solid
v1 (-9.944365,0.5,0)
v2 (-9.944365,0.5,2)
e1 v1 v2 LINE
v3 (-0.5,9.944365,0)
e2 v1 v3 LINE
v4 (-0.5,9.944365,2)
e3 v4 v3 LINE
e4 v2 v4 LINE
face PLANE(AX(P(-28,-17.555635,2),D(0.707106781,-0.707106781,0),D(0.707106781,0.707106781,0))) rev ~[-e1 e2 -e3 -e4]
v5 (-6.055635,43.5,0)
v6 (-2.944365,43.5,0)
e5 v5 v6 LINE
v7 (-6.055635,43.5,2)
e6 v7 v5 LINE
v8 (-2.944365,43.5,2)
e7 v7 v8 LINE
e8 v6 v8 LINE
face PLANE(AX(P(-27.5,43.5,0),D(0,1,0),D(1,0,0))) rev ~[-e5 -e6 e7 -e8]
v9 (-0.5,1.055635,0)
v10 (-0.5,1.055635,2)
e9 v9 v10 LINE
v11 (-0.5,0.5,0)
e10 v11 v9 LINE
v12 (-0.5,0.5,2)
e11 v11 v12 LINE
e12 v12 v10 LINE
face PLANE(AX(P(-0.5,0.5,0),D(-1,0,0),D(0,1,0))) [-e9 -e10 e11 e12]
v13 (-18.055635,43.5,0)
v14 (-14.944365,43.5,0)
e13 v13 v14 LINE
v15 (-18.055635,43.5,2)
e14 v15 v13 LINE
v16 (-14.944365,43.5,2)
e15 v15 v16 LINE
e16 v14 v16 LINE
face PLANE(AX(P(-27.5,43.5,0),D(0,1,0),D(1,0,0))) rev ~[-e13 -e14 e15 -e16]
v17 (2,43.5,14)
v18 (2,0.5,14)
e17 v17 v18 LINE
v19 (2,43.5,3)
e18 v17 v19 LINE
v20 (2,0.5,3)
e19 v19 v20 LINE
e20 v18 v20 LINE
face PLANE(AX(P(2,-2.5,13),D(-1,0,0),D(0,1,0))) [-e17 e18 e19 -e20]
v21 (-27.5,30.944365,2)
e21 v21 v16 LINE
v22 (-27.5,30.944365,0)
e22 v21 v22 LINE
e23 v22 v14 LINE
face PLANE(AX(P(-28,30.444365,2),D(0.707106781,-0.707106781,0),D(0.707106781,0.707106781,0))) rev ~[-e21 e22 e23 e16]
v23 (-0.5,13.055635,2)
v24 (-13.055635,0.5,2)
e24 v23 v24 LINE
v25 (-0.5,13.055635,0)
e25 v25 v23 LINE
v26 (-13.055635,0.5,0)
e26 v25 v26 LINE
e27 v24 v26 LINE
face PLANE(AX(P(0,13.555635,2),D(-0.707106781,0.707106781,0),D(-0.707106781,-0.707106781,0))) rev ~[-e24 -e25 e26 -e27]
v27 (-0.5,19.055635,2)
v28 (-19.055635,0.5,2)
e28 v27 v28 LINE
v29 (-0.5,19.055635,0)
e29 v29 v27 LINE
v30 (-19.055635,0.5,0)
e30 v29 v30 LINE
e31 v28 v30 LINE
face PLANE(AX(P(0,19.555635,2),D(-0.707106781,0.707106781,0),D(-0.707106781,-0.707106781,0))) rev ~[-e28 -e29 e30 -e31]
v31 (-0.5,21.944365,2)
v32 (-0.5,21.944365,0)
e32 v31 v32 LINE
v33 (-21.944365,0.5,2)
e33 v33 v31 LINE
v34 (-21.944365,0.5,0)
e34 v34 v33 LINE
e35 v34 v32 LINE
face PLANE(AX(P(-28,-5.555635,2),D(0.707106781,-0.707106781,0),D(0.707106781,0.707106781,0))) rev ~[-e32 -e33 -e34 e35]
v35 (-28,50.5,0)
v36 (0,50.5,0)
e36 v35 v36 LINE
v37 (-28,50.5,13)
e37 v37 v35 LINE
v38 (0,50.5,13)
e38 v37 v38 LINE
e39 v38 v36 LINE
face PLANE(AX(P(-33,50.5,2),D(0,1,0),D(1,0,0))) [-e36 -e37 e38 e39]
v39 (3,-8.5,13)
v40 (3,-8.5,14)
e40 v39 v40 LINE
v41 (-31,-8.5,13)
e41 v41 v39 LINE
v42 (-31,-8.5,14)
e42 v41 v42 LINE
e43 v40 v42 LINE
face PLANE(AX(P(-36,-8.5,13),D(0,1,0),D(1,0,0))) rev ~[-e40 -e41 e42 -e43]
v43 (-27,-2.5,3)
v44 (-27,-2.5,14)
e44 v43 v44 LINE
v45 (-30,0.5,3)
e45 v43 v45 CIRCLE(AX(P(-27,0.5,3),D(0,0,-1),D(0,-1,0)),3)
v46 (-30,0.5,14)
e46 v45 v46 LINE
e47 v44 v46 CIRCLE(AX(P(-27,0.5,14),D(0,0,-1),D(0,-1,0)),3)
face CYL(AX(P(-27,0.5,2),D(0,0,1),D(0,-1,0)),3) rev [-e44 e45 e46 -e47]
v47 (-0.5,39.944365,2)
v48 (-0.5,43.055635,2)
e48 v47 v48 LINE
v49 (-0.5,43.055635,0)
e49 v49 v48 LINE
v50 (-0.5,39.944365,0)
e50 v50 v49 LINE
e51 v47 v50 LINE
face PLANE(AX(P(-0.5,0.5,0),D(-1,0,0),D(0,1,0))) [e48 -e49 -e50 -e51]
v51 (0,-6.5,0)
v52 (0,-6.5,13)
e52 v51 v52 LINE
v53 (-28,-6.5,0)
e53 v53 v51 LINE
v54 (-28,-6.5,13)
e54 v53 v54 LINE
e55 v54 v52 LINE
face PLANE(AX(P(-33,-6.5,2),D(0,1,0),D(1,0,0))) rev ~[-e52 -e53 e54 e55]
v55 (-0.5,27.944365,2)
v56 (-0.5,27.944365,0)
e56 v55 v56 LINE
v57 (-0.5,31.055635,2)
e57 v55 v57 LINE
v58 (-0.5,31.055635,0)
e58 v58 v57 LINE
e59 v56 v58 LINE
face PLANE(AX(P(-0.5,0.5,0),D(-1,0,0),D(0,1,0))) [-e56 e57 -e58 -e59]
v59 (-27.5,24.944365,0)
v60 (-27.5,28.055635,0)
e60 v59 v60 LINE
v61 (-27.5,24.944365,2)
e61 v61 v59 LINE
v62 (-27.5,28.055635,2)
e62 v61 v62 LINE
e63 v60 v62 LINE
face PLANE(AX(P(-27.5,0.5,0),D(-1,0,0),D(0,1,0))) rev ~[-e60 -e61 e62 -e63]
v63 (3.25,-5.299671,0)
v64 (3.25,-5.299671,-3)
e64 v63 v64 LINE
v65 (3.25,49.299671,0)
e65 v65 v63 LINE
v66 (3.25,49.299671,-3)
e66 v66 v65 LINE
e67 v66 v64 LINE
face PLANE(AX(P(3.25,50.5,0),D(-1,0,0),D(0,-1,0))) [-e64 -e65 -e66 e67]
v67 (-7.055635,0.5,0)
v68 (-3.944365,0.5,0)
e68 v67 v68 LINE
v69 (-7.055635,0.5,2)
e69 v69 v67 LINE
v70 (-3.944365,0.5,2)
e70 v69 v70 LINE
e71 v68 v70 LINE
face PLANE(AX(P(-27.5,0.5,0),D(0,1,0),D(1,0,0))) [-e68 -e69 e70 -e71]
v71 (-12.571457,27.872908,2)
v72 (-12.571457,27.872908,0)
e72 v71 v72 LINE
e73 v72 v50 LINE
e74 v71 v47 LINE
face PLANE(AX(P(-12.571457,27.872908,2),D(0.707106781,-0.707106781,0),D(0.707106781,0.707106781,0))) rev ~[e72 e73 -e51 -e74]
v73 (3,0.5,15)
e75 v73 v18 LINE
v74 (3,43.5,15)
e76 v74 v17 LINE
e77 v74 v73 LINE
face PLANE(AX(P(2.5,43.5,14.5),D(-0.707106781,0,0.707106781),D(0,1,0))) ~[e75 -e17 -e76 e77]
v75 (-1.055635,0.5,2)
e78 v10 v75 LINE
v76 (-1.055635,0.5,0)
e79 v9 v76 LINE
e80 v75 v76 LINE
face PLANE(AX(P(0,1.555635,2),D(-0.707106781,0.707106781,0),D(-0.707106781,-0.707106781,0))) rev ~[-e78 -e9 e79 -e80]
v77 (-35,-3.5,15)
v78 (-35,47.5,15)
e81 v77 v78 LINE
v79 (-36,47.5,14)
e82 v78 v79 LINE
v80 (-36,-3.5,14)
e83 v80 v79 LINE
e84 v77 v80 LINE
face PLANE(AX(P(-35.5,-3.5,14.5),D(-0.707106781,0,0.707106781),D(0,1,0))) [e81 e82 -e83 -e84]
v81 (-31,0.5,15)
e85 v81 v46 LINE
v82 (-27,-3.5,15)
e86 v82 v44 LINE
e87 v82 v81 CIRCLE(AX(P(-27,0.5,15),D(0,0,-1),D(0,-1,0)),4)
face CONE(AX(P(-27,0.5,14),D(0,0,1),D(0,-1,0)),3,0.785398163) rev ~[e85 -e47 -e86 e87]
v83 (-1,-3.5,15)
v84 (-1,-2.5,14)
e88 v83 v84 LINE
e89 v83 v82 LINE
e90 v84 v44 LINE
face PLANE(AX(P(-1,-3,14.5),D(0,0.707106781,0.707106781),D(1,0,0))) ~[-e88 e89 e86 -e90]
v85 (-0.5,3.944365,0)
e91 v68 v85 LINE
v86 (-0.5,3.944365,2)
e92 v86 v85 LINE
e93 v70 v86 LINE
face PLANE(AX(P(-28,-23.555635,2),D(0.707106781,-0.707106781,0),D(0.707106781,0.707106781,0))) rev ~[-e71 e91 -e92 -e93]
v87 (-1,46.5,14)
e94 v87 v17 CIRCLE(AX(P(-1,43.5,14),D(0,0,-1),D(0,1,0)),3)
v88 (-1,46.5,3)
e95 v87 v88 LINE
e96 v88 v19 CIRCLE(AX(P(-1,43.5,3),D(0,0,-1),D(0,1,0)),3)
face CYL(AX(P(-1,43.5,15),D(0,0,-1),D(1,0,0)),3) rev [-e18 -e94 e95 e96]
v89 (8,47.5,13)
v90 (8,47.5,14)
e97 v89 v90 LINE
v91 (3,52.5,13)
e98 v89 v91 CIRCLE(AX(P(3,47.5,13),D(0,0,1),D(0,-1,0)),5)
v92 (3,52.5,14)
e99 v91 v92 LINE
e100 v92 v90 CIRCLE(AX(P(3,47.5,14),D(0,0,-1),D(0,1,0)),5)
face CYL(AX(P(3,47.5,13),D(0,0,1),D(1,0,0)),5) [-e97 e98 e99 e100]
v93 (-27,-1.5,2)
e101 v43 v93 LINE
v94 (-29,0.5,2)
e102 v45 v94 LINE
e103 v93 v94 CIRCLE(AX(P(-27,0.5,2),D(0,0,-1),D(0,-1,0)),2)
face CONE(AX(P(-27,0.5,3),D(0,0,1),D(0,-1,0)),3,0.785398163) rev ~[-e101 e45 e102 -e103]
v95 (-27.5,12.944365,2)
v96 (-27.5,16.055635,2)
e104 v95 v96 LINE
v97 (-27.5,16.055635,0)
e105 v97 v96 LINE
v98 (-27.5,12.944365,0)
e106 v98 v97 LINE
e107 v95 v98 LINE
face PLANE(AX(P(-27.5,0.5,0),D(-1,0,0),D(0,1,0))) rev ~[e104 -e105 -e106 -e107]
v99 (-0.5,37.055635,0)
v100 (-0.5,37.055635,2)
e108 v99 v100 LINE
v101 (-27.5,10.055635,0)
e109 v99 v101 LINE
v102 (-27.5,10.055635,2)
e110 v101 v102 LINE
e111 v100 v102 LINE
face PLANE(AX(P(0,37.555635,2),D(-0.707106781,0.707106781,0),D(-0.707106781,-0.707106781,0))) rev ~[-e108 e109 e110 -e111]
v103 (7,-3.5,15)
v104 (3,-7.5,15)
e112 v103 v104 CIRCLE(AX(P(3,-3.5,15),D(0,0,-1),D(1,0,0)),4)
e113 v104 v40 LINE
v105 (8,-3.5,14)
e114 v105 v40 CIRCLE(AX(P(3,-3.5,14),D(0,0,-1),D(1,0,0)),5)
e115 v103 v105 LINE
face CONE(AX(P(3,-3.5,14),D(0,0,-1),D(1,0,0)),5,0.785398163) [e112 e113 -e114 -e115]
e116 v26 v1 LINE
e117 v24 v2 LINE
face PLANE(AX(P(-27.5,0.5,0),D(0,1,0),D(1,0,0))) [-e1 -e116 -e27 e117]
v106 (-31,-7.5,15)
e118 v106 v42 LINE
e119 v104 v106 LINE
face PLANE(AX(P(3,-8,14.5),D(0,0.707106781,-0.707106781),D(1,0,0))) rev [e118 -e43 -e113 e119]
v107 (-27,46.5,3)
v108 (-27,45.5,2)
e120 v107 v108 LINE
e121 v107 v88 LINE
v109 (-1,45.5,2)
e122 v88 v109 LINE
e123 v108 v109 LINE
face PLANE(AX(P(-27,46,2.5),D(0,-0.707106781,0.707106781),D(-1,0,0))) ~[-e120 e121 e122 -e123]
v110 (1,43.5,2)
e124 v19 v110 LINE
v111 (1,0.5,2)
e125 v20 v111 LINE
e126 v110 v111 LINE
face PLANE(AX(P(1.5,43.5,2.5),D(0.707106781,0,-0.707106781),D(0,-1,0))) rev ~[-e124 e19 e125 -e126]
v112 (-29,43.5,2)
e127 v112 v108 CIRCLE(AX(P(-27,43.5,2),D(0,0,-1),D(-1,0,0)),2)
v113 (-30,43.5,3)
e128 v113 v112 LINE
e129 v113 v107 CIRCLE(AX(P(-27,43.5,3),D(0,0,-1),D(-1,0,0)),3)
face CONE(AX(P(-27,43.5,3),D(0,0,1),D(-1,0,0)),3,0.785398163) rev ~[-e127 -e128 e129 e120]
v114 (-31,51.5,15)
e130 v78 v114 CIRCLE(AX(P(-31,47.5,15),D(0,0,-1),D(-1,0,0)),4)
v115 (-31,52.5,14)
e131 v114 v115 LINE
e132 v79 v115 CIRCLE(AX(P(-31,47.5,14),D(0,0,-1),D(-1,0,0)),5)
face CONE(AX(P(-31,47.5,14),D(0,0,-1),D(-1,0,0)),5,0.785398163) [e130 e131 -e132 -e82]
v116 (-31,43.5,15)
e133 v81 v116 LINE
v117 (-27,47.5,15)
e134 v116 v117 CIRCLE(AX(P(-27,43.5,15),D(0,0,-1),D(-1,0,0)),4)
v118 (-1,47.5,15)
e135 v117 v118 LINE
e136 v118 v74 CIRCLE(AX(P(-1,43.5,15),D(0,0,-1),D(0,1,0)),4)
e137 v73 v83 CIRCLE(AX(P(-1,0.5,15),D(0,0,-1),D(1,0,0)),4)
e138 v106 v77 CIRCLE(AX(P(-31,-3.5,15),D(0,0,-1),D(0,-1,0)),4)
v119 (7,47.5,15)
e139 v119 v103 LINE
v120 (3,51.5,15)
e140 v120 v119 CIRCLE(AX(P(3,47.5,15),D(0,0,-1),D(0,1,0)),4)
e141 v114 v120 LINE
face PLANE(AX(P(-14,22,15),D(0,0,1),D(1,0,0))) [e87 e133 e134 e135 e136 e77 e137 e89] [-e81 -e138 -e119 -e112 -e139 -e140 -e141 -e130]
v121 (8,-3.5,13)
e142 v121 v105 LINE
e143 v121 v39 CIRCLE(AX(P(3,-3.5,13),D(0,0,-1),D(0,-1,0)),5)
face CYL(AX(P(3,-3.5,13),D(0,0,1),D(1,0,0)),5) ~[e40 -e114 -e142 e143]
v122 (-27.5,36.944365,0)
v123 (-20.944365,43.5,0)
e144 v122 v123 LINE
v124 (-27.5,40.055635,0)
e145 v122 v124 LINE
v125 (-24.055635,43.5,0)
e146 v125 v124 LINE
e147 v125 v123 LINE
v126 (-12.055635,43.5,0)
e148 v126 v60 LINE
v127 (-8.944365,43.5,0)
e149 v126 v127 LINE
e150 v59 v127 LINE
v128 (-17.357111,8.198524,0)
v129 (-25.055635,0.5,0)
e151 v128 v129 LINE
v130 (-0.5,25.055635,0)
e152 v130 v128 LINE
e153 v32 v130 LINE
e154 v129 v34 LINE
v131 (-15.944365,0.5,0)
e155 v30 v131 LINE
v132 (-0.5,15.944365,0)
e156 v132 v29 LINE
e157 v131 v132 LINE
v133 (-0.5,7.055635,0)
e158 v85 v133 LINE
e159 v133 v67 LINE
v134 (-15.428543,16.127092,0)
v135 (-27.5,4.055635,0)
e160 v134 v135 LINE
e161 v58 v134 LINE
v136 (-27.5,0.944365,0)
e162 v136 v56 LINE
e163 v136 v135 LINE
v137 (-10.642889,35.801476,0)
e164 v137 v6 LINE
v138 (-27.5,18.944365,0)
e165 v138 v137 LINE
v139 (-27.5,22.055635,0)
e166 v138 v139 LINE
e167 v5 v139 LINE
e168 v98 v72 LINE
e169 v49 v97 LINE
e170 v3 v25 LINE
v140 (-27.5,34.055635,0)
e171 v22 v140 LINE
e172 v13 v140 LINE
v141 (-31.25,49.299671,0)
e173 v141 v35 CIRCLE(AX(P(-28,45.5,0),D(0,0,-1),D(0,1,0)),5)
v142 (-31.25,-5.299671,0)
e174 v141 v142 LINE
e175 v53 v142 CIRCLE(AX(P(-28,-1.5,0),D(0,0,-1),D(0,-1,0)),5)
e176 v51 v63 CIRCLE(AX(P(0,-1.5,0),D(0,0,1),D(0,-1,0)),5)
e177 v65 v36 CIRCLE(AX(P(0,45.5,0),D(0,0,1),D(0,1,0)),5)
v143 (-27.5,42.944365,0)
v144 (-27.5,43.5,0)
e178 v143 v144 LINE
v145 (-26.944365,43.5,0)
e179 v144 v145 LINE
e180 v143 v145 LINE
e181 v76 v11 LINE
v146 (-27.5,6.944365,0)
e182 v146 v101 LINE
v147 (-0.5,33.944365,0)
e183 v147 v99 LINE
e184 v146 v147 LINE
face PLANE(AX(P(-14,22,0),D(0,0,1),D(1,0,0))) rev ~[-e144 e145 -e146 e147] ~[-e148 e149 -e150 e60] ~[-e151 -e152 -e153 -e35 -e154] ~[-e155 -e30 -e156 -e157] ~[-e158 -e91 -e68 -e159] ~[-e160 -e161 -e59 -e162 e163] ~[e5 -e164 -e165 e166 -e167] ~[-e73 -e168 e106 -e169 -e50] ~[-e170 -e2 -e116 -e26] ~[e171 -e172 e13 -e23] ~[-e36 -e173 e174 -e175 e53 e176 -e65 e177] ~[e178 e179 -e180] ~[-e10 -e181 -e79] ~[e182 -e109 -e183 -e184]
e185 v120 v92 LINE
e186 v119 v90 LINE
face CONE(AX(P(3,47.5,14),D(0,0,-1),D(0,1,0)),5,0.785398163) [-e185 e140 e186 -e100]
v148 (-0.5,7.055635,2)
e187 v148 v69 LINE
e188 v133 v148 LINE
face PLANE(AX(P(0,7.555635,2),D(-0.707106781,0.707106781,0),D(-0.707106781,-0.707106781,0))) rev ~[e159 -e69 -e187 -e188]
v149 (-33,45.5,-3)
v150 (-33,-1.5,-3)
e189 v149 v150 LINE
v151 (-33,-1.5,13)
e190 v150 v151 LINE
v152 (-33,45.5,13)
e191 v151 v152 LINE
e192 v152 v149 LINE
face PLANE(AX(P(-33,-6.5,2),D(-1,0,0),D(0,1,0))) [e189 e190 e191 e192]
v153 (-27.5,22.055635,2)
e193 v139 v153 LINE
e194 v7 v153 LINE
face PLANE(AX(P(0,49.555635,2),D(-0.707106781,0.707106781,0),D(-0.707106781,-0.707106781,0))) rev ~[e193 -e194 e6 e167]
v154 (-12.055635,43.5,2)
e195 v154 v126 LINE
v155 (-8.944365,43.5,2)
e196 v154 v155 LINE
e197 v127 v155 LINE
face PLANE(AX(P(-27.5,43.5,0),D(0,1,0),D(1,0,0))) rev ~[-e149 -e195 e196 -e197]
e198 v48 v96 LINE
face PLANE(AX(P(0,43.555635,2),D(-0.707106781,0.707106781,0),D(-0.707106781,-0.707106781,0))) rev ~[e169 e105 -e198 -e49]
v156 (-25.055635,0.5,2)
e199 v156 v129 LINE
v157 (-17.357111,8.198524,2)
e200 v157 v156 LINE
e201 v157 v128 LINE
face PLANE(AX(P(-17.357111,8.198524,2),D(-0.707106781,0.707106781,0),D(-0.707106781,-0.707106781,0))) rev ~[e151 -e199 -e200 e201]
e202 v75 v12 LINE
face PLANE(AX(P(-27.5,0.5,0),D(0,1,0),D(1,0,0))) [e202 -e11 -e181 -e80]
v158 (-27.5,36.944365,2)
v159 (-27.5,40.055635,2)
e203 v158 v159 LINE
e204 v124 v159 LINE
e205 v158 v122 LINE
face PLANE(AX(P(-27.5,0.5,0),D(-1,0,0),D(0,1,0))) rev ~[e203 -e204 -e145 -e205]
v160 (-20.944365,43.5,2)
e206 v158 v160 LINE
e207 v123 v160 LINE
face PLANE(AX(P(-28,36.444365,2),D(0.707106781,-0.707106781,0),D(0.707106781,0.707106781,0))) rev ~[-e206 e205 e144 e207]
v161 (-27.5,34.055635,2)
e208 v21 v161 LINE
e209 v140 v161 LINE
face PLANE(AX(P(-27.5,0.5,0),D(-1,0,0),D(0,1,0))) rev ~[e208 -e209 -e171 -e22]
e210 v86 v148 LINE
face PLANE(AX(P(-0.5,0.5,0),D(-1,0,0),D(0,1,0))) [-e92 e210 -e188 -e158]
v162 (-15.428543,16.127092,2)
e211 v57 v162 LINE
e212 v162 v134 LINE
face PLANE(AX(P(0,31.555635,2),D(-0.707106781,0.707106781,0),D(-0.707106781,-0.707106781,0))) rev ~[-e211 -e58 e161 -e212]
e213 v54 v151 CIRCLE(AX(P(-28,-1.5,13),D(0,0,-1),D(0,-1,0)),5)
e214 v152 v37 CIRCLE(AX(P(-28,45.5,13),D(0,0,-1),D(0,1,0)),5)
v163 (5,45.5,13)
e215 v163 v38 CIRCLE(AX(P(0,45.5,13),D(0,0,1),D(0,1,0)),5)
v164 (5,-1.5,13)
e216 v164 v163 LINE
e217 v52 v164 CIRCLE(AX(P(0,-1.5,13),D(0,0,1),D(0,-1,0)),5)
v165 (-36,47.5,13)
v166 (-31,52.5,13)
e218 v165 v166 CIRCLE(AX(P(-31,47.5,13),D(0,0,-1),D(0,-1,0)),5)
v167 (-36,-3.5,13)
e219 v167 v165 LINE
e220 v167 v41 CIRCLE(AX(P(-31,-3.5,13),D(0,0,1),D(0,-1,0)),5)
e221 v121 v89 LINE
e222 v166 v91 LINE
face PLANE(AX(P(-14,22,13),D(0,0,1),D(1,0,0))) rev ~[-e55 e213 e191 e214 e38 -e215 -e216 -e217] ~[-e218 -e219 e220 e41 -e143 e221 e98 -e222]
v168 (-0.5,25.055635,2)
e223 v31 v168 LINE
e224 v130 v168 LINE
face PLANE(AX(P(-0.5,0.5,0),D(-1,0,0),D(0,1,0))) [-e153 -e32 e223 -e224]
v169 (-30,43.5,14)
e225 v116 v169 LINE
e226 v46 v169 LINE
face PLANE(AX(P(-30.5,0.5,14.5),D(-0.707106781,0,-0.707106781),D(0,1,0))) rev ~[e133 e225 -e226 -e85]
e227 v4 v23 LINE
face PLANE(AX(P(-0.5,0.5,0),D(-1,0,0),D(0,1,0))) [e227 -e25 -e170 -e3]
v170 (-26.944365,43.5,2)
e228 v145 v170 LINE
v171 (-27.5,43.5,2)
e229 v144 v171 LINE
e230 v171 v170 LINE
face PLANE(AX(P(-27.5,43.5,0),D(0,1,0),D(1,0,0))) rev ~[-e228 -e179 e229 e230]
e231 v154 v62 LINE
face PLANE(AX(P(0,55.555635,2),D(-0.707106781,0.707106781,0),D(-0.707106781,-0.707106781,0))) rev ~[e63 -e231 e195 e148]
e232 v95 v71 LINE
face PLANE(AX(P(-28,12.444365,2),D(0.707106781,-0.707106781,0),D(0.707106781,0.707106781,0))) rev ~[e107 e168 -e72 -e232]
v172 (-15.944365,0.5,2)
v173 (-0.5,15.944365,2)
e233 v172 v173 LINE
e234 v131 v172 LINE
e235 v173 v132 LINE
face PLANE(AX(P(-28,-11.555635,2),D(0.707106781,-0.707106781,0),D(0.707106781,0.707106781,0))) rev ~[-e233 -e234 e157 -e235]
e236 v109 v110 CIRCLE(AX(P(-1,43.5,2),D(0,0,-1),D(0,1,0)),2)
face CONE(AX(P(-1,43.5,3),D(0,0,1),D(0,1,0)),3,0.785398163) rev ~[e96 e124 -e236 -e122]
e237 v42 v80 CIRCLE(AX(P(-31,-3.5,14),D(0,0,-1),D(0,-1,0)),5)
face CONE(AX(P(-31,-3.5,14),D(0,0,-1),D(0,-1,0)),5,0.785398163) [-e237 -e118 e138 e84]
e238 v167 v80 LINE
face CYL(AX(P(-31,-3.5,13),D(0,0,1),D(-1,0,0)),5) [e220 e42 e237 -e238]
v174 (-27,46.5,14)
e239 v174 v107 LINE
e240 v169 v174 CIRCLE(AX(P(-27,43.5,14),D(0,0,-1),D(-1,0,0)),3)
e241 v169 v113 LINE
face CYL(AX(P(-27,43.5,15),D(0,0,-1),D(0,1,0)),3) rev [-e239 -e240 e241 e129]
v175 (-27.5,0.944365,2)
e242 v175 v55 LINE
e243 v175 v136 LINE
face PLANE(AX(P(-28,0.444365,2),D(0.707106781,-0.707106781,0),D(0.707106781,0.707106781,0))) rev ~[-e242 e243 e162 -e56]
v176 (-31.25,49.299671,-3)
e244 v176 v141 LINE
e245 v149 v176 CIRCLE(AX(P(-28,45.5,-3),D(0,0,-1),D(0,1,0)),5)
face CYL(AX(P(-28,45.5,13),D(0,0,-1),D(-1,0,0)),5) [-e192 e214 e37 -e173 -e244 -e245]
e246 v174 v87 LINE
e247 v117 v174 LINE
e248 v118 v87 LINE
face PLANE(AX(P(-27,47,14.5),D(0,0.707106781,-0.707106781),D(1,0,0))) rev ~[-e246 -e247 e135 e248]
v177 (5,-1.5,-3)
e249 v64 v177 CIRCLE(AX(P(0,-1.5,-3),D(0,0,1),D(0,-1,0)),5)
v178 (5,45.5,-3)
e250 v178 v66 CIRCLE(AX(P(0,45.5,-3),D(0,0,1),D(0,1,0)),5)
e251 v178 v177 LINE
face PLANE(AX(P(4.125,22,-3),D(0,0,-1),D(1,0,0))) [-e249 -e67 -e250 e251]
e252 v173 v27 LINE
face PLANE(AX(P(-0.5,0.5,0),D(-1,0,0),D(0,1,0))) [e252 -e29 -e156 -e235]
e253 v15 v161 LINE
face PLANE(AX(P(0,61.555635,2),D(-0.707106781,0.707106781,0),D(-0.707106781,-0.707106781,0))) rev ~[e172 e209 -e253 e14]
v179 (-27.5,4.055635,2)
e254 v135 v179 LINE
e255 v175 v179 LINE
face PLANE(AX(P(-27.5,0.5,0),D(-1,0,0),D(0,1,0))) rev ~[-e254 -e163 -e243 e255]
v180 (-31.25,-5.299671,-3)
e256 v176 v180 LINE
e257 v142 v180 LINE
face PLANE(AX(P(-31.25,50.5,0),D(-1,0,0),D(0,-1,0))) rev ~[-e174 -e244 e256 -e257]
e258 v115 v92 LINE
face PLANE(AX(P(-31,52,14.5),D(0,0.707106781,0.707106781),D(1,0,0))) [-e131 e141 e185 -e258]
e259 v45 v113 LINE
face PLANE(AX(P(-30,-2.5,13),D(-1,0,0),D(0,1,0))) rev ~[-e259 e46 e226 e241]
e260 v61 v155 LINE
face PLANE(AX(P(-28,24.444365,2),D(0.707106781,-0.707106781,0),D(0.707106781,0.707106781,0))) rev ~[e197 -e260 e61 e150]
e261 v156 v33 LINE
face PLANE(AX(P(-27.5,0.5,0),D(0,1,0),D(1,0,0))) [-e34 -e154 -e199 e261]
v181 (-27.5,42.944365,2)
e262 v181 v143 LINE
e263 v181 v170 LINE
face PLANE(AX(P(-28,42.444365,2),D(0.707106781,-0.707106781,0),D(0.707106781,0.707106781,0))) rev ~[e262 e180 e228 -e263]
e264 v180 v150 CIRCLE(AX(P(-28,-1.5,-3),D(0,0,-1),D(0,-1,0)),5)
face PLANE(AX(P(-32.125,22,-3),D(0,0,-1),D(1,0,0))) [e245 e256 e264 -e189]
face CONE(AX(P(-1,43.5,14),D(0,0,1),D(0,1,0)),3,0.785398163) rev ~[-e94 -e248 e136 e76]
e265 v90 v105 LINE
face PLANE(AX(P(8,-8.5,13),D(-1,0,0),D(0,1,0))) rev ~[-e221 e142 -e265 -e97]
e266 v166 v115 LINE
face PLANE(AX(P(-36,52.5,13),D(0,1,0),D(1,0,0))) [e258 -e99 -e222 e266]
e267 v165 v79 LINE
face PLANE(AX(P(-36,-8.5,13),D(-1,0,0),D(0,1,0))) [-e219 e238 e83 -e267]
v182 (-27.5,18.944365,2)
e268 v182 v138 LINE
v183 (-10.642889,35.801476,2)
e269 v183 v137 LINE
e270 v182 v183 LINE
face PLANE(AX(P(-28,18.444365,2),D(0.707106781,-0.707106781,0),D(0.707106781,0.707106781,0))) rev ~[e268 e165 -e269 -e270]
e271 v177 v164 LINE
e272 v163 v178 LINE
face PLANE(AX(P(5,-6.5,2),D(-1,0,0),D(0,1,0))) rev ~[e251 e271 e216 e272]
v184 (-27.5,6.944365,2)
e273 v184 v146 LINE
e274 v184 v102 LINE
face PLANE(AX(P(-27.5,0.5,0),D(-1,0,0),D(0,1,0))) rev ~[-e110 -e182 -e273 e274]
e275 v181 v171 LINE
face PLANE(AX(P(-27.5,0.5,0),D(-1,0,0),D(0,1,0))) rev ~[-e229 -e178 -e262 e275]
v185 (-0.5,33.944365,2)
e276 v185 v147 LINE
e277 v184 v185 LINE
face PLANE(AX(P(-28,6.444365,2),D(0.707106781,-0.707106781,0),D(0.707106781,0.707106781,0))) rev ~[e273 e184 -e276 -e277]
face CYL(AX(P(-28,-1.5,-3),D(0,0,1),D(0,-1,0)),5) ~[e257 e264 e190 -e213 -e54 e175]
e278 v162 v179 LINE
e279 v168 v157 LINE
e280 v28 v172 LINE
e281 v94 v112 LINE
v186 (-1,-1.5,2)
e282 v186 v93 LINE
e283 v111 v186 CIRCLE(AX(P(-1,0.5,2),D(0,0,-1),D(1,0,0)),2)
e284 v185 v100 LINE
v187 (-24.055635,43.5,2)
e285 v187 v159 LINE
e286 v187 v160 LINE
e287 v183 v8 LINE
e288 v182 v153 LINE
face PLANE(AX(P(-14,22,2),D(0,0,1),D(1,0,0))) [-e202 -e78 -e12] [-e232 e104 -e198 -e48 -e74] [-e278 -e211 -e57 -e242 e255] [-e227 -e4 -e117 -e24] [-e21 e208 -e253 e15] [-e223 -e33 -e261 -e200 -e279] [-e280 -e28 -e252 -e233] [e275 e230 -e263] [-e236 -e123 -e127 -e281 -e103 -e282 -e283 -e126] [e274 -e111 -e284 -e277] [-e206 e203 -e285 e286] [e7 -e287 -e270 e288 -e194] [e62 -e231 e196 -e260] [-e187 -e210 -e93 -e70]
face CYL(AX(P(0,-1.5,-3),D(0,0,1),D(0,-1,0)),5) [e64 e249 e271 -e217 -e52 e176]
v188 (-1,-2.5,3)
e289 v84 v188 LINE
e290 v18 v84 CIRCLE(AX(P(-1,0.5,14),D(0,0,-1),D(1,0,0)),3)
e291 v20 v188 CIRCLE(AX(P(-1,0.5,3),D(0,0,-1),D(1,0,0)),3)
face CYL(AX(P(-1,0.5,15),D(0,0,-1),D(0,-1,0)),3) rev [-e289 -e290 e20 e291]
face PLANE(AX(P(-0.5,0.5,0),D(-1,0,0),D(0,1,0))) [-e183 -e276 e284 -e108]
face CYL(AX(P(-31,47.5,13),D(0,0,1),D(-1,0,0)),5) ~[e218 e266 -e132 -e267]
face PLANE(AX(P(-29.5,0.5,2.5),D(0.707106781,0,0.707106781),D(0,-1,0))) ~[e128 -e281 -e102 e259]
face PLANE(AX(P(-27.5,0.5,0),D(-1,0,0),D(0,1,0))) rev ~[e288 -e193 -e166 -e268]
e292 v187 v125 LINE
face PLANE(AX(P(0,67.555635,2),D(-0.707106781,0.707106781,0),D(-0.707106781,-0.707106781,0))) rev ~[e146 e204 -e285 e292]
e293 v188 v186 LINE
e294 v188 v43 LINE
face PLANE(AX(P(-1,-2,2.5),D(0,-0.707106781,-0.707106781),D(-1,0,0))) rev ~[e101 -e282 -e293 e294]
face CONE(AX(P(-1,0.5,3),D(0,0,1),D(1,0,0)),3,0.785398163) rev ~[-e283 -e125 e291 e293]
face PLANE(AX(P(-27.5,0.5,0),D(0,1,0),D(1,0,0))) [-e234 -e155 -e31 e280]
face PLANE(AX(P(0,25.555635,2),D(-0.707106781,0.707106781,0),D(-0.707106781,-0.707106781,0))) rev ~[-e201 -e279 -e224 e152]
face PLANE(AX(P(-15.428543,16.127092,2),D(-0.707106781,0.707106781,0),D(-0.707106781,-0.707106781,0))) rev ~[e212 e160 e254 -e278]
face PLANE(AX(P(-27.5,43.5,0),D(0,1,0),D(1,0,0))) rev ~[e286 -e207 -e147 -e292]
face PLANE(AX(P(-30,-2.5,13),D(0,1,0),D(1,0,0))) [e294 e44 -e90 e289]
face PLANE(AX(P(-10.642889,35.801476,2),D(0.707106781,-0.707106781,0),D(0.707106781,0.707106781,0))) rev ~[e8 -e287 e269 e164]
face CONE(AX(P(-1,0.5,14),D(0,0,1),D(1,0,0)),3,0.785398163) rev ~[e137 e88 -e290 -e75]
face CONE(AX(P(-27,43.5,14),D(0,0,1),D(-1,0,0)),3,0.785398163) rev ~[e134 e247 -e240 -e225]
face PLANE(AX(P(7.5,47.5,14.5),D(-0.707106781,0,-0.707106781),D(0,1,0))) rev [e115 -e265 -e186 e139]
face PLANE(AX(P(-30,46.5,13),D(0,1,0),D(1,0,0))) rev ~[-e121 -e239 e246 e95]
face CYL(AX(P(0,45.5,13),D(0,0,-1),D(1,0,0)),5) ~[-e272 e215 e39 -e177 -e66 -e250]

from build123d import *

# Parameters (mm, degrees)
F0_W      = 28
F0_H      = 44
F1_DEPTH  = 2
F3_DEPTH  = 2
F4_W      = 38
F4_H      = 57
F4_W_2    = 27
F4_H_2    = 43
F5_DEPTH  = 2
F6_W      = 1.75
F6_H      = 57
F7_DEPTH  = 3
F8_W      = 38
F8_H      = 57
F8_W_2    = 32
F8_H_2    = 49
F9_DEPTH  = 11
F10_W     = 44
F10_H     = 61
F10_W_2   = 32
F10_H_2   = 49
F11_DEPTH = 2
F12_R     = 5
F13_R     = 3
F14_SIZE  = 1


with BuildPart() as f1:
    # F0 (on Top) → F1 (new body)
    with BuildSketch(Plane.XY):
        with Locations((-14, 22)):
            Rectangle(F0_W, F0_H)
    extrude(amount=F1_DEPTH)

    # F2 (on face) → F3 (cut, through all)
    with BuildSketch(Plane.XY.offset(2)):
        Polygon((-28, 48.4443650814), (-1.0000491969, 75.4443158845), (0, 79.5556349186), (-29.5556349186, 50), align=None)
        Polygon((0, 79.5556349186), (-1.0000491969, 75.4443158845), (1.5556349186, 78), align=None)
        Polygon((-28, 42.4443650814), (-2.9286171114, 67.51574797), (-1.9285679145, 71.6270670041), (-29.5556349186, 44), align=None)
        Polygon((-1.9285679145, 71.6270670041), (-2.9286171114, 67.51574797), (1.5556349186, 72), (0, 73.5556349186), align=None)
        Polygon((-28, 36.4443650814), (-4.8571850259, 59.5871800555), (-3.857135829, 63.6984990896), (-29.5556349186, 38), align=None)
        Polygon((-3.857135829, 63.6984990896), (-4.8571850259, 59.5871800555), (1.5556349186, 66), (0, 67.5556349186), align=None)
        Polygon((-28, 30.4443650814), (-6.7857529404, 51.658612141), (-5.7857037435, 55.7699311751), (-29.5556349186, 32), align=None)
        Polygon((-5.7857037435, 55.7699311751), (-6.7857529404, 51.658612141), (1.5556349186, 60), (0, 61.5556349186), align=None)
        Polygon((-28, 24.4443650814), (-8.7143208549, 43.7300442265), (-7.714271658, 47.8413632606), (-29.5556349186, 26), align=None)
        Polygon((-7.714271658, 47.8413632606), (-8.7143208549, 43.7300442265), (1.5556349186, 54), (0, 55.5556349186), align=None)
        Polygon((-28, 18.4443650814), (-10.6428887694, 35.8014763119), (-9.6428395725, 39.9127953461), (-29.5556349186, 20), align=None)
        Polygon((-9.6428395725, 39.9127953461), (-10.6428887694, 35.8014763119), (1.5556349186, 48), (0, 49.5556349186), align=None)
        Polygon((-28, 12.4443650814), (-12.5714566839, 27.8729083974), (-11.571407487, 31.9842274316), (-29.5556349186, 14), align=None)
        Polygon((-11.571407487, 31.9842274316), (-12.5714566839, 27.8729083974), (1.5556349186, 42), (0, 43.5556349186), align=None)
        Polygon((-28, 6.4443650814), (-14.5000245985, 19.9443404829), (-13.4999754015, 24.0556595171), (-29.5556349186, 8), align=None)
        Polygon((-13.4999754015, 24.0556595171), (-14.5000245985, 19.9443404829), (1.5556349186, 36), (0, 37.5556349186), align=None)
        Polygon((-28, 0.4443650814), (-16.428592513, 12.0157725684), (-15.4285433161, 16.1270916026), (-29.5556349186, 2), align=None)
        Polygon((-15.4285433161, 16.1270916026), (-16.428592513, 12.0157725684), (1.5556349186, 30), (0, 31.5556349186), align=None)
        Polygon((-28, -5.5556349186), (-18.3571604275, 4.0872046539), (-17.3571112306, 8.1985236881), (-29.5556349186, -4), align=None)
        Polygon((-17.3571112306, 8.1985236881), (-18.3571604275, 4.0872046539), (1.5556349186, 24), (0, 25.5556349186), align=None)
        Polygon((-28, -11.5556349186), (-20.285728342, -3.8413632606), (-19.2856791451, 0.2699557735), (-29.5556349186, -10), align=None)
        Polygon((-19.2856791451, 0.2699557735), (-20.285728342, -3.8413632606), (1.5556349186, 18), (0, 19.5556349186), align=None)
        Polygon((-28, -17.5556349186), (-22.2142962565, -11.7699311751), (-21.2142470596, -7.658612141), (-29.5556349186, -16), align=None)
        Polygon((-21.2142470596, -7.658612141), (-22.2142962565, -11.7699311751), (1.5556349186, 12), (0, 13.5556349186), align=None)
        Polygon((-28, -23.5556349186), (-24.142864171, -19.6984990896), (-23.1428149741, -15.5871800555), (-29.5556349186, -22), align=None)
        Polygon((-23.1428149741, -15.5871800555), (-24.142864171, -19.6984990896), (1.5556349186, 6), (0, 7.5556349186), align=None)
        Polygon((-28, -29.5556349186), (-26.0714320855, -27.6270670041), (-25.0713828886, -23.51574797), (-29.5556349186, -28), align=None)
        Polygon((-25.0713828886, -23.51574797), (-26.0714320855, -27.6270670041), (1.5556349186, 0), (0, 1.5556349186), align=None)
        Polygon((-26.9999508031, -31.4443158845), (-29.5556349186, -34), (-28, -35.5556349186), align=None)
        Polygon((0, -4.4443650814), (-26.9999508031, -31.4443158845), (-28, -35.5556349186), (1.5556349186, -6), align=None)
    extrude(amount=-F3_DEPTH, mode=Mode.SUBTRACT)

    # F4 (on Top) → F5 (join)
    with BuildSketch(Plane.XY):
        with Locations((-14, 22)):
            Rectangle(F4_W, F4_H)
        with Locations((-14, 22)):
            Rectangle(F4_W_2, F4_H_2, mode=Mode.SUBTRACT)
    extrude(amount=F5_DEPTH)

    # F6 (on face) → F7 (join)
    with BuildSketch(Plane(origin=(0, 0, 0), x_dir=(1, 0, 0), z_dir=(0, 0, -1))):
        with Locations((-32.125, -22)):
            Rectangle(F6_W, F6_H)
        with Locations((4.125, -22)):
            Rectangle(F6_W, F6_H)
    extrude(amount=F7_DEPTH)

    # F8 (on face) → F9 (join)
    with BuildSketch(Plane.XY.offset(2)):
        with Locations((-14, 22)):
            Rectangle(F8_W, F8_H)
        with Locations((-14, 22)):
            Rectangle(F8_W_2, F8_H_2, mode=Mode.SUBTRACT)
    extrude(amount=F9_DEPTH)

    # F10 (on face) → F11 (join)
    with BuildSketch(Plane.XY.offset(13)):
        with Locations((-14, 22)):
            Rectangle(F10_W, F10_H)
        with Locations((-14, 22)):
            Rectangle(F10_W_2, F10_H_2, mode=Mode.SUBTRACT)
    extrude(amount=F11_DEPTH)

    # F12
    f12_edges = [f1.edges().sort_by_distance(p)[0] for p in [
        (8, -8.5, 14),
        (5, -6.5, 5),
        (-33, -6.5, 5),
        (-36, -8.5, 14),
        (-36, 52.5, 14),
        (-33, 50.5, 5),
        (8, 52.5, 14),
        (5, 50.5, 5),
    ]]
    fillet(f12_edges, radius=F12_R)

    # F13
    f13_edges = [f1.edges().sort_by_distance(p)[0] for p in [
        (-30, 46.5, 8.5),
        (-30, -2.5, 8.5),
        (2, 46.5, 8.5),
        (2, -2.5, 8.5),
    ]]
    fillet(f13_edges, radius=F13_R)

    # F14
    f14_edges = [f1.edges().sort_by_distance(p)[0] for p in [
        (-14, 46.5, 2),
        (-14, 46.5, 15),
        (-36, 22, 15),
    ]]
    chamfer(f14_edges, length=F14_SIZE)


solid = f1.part
